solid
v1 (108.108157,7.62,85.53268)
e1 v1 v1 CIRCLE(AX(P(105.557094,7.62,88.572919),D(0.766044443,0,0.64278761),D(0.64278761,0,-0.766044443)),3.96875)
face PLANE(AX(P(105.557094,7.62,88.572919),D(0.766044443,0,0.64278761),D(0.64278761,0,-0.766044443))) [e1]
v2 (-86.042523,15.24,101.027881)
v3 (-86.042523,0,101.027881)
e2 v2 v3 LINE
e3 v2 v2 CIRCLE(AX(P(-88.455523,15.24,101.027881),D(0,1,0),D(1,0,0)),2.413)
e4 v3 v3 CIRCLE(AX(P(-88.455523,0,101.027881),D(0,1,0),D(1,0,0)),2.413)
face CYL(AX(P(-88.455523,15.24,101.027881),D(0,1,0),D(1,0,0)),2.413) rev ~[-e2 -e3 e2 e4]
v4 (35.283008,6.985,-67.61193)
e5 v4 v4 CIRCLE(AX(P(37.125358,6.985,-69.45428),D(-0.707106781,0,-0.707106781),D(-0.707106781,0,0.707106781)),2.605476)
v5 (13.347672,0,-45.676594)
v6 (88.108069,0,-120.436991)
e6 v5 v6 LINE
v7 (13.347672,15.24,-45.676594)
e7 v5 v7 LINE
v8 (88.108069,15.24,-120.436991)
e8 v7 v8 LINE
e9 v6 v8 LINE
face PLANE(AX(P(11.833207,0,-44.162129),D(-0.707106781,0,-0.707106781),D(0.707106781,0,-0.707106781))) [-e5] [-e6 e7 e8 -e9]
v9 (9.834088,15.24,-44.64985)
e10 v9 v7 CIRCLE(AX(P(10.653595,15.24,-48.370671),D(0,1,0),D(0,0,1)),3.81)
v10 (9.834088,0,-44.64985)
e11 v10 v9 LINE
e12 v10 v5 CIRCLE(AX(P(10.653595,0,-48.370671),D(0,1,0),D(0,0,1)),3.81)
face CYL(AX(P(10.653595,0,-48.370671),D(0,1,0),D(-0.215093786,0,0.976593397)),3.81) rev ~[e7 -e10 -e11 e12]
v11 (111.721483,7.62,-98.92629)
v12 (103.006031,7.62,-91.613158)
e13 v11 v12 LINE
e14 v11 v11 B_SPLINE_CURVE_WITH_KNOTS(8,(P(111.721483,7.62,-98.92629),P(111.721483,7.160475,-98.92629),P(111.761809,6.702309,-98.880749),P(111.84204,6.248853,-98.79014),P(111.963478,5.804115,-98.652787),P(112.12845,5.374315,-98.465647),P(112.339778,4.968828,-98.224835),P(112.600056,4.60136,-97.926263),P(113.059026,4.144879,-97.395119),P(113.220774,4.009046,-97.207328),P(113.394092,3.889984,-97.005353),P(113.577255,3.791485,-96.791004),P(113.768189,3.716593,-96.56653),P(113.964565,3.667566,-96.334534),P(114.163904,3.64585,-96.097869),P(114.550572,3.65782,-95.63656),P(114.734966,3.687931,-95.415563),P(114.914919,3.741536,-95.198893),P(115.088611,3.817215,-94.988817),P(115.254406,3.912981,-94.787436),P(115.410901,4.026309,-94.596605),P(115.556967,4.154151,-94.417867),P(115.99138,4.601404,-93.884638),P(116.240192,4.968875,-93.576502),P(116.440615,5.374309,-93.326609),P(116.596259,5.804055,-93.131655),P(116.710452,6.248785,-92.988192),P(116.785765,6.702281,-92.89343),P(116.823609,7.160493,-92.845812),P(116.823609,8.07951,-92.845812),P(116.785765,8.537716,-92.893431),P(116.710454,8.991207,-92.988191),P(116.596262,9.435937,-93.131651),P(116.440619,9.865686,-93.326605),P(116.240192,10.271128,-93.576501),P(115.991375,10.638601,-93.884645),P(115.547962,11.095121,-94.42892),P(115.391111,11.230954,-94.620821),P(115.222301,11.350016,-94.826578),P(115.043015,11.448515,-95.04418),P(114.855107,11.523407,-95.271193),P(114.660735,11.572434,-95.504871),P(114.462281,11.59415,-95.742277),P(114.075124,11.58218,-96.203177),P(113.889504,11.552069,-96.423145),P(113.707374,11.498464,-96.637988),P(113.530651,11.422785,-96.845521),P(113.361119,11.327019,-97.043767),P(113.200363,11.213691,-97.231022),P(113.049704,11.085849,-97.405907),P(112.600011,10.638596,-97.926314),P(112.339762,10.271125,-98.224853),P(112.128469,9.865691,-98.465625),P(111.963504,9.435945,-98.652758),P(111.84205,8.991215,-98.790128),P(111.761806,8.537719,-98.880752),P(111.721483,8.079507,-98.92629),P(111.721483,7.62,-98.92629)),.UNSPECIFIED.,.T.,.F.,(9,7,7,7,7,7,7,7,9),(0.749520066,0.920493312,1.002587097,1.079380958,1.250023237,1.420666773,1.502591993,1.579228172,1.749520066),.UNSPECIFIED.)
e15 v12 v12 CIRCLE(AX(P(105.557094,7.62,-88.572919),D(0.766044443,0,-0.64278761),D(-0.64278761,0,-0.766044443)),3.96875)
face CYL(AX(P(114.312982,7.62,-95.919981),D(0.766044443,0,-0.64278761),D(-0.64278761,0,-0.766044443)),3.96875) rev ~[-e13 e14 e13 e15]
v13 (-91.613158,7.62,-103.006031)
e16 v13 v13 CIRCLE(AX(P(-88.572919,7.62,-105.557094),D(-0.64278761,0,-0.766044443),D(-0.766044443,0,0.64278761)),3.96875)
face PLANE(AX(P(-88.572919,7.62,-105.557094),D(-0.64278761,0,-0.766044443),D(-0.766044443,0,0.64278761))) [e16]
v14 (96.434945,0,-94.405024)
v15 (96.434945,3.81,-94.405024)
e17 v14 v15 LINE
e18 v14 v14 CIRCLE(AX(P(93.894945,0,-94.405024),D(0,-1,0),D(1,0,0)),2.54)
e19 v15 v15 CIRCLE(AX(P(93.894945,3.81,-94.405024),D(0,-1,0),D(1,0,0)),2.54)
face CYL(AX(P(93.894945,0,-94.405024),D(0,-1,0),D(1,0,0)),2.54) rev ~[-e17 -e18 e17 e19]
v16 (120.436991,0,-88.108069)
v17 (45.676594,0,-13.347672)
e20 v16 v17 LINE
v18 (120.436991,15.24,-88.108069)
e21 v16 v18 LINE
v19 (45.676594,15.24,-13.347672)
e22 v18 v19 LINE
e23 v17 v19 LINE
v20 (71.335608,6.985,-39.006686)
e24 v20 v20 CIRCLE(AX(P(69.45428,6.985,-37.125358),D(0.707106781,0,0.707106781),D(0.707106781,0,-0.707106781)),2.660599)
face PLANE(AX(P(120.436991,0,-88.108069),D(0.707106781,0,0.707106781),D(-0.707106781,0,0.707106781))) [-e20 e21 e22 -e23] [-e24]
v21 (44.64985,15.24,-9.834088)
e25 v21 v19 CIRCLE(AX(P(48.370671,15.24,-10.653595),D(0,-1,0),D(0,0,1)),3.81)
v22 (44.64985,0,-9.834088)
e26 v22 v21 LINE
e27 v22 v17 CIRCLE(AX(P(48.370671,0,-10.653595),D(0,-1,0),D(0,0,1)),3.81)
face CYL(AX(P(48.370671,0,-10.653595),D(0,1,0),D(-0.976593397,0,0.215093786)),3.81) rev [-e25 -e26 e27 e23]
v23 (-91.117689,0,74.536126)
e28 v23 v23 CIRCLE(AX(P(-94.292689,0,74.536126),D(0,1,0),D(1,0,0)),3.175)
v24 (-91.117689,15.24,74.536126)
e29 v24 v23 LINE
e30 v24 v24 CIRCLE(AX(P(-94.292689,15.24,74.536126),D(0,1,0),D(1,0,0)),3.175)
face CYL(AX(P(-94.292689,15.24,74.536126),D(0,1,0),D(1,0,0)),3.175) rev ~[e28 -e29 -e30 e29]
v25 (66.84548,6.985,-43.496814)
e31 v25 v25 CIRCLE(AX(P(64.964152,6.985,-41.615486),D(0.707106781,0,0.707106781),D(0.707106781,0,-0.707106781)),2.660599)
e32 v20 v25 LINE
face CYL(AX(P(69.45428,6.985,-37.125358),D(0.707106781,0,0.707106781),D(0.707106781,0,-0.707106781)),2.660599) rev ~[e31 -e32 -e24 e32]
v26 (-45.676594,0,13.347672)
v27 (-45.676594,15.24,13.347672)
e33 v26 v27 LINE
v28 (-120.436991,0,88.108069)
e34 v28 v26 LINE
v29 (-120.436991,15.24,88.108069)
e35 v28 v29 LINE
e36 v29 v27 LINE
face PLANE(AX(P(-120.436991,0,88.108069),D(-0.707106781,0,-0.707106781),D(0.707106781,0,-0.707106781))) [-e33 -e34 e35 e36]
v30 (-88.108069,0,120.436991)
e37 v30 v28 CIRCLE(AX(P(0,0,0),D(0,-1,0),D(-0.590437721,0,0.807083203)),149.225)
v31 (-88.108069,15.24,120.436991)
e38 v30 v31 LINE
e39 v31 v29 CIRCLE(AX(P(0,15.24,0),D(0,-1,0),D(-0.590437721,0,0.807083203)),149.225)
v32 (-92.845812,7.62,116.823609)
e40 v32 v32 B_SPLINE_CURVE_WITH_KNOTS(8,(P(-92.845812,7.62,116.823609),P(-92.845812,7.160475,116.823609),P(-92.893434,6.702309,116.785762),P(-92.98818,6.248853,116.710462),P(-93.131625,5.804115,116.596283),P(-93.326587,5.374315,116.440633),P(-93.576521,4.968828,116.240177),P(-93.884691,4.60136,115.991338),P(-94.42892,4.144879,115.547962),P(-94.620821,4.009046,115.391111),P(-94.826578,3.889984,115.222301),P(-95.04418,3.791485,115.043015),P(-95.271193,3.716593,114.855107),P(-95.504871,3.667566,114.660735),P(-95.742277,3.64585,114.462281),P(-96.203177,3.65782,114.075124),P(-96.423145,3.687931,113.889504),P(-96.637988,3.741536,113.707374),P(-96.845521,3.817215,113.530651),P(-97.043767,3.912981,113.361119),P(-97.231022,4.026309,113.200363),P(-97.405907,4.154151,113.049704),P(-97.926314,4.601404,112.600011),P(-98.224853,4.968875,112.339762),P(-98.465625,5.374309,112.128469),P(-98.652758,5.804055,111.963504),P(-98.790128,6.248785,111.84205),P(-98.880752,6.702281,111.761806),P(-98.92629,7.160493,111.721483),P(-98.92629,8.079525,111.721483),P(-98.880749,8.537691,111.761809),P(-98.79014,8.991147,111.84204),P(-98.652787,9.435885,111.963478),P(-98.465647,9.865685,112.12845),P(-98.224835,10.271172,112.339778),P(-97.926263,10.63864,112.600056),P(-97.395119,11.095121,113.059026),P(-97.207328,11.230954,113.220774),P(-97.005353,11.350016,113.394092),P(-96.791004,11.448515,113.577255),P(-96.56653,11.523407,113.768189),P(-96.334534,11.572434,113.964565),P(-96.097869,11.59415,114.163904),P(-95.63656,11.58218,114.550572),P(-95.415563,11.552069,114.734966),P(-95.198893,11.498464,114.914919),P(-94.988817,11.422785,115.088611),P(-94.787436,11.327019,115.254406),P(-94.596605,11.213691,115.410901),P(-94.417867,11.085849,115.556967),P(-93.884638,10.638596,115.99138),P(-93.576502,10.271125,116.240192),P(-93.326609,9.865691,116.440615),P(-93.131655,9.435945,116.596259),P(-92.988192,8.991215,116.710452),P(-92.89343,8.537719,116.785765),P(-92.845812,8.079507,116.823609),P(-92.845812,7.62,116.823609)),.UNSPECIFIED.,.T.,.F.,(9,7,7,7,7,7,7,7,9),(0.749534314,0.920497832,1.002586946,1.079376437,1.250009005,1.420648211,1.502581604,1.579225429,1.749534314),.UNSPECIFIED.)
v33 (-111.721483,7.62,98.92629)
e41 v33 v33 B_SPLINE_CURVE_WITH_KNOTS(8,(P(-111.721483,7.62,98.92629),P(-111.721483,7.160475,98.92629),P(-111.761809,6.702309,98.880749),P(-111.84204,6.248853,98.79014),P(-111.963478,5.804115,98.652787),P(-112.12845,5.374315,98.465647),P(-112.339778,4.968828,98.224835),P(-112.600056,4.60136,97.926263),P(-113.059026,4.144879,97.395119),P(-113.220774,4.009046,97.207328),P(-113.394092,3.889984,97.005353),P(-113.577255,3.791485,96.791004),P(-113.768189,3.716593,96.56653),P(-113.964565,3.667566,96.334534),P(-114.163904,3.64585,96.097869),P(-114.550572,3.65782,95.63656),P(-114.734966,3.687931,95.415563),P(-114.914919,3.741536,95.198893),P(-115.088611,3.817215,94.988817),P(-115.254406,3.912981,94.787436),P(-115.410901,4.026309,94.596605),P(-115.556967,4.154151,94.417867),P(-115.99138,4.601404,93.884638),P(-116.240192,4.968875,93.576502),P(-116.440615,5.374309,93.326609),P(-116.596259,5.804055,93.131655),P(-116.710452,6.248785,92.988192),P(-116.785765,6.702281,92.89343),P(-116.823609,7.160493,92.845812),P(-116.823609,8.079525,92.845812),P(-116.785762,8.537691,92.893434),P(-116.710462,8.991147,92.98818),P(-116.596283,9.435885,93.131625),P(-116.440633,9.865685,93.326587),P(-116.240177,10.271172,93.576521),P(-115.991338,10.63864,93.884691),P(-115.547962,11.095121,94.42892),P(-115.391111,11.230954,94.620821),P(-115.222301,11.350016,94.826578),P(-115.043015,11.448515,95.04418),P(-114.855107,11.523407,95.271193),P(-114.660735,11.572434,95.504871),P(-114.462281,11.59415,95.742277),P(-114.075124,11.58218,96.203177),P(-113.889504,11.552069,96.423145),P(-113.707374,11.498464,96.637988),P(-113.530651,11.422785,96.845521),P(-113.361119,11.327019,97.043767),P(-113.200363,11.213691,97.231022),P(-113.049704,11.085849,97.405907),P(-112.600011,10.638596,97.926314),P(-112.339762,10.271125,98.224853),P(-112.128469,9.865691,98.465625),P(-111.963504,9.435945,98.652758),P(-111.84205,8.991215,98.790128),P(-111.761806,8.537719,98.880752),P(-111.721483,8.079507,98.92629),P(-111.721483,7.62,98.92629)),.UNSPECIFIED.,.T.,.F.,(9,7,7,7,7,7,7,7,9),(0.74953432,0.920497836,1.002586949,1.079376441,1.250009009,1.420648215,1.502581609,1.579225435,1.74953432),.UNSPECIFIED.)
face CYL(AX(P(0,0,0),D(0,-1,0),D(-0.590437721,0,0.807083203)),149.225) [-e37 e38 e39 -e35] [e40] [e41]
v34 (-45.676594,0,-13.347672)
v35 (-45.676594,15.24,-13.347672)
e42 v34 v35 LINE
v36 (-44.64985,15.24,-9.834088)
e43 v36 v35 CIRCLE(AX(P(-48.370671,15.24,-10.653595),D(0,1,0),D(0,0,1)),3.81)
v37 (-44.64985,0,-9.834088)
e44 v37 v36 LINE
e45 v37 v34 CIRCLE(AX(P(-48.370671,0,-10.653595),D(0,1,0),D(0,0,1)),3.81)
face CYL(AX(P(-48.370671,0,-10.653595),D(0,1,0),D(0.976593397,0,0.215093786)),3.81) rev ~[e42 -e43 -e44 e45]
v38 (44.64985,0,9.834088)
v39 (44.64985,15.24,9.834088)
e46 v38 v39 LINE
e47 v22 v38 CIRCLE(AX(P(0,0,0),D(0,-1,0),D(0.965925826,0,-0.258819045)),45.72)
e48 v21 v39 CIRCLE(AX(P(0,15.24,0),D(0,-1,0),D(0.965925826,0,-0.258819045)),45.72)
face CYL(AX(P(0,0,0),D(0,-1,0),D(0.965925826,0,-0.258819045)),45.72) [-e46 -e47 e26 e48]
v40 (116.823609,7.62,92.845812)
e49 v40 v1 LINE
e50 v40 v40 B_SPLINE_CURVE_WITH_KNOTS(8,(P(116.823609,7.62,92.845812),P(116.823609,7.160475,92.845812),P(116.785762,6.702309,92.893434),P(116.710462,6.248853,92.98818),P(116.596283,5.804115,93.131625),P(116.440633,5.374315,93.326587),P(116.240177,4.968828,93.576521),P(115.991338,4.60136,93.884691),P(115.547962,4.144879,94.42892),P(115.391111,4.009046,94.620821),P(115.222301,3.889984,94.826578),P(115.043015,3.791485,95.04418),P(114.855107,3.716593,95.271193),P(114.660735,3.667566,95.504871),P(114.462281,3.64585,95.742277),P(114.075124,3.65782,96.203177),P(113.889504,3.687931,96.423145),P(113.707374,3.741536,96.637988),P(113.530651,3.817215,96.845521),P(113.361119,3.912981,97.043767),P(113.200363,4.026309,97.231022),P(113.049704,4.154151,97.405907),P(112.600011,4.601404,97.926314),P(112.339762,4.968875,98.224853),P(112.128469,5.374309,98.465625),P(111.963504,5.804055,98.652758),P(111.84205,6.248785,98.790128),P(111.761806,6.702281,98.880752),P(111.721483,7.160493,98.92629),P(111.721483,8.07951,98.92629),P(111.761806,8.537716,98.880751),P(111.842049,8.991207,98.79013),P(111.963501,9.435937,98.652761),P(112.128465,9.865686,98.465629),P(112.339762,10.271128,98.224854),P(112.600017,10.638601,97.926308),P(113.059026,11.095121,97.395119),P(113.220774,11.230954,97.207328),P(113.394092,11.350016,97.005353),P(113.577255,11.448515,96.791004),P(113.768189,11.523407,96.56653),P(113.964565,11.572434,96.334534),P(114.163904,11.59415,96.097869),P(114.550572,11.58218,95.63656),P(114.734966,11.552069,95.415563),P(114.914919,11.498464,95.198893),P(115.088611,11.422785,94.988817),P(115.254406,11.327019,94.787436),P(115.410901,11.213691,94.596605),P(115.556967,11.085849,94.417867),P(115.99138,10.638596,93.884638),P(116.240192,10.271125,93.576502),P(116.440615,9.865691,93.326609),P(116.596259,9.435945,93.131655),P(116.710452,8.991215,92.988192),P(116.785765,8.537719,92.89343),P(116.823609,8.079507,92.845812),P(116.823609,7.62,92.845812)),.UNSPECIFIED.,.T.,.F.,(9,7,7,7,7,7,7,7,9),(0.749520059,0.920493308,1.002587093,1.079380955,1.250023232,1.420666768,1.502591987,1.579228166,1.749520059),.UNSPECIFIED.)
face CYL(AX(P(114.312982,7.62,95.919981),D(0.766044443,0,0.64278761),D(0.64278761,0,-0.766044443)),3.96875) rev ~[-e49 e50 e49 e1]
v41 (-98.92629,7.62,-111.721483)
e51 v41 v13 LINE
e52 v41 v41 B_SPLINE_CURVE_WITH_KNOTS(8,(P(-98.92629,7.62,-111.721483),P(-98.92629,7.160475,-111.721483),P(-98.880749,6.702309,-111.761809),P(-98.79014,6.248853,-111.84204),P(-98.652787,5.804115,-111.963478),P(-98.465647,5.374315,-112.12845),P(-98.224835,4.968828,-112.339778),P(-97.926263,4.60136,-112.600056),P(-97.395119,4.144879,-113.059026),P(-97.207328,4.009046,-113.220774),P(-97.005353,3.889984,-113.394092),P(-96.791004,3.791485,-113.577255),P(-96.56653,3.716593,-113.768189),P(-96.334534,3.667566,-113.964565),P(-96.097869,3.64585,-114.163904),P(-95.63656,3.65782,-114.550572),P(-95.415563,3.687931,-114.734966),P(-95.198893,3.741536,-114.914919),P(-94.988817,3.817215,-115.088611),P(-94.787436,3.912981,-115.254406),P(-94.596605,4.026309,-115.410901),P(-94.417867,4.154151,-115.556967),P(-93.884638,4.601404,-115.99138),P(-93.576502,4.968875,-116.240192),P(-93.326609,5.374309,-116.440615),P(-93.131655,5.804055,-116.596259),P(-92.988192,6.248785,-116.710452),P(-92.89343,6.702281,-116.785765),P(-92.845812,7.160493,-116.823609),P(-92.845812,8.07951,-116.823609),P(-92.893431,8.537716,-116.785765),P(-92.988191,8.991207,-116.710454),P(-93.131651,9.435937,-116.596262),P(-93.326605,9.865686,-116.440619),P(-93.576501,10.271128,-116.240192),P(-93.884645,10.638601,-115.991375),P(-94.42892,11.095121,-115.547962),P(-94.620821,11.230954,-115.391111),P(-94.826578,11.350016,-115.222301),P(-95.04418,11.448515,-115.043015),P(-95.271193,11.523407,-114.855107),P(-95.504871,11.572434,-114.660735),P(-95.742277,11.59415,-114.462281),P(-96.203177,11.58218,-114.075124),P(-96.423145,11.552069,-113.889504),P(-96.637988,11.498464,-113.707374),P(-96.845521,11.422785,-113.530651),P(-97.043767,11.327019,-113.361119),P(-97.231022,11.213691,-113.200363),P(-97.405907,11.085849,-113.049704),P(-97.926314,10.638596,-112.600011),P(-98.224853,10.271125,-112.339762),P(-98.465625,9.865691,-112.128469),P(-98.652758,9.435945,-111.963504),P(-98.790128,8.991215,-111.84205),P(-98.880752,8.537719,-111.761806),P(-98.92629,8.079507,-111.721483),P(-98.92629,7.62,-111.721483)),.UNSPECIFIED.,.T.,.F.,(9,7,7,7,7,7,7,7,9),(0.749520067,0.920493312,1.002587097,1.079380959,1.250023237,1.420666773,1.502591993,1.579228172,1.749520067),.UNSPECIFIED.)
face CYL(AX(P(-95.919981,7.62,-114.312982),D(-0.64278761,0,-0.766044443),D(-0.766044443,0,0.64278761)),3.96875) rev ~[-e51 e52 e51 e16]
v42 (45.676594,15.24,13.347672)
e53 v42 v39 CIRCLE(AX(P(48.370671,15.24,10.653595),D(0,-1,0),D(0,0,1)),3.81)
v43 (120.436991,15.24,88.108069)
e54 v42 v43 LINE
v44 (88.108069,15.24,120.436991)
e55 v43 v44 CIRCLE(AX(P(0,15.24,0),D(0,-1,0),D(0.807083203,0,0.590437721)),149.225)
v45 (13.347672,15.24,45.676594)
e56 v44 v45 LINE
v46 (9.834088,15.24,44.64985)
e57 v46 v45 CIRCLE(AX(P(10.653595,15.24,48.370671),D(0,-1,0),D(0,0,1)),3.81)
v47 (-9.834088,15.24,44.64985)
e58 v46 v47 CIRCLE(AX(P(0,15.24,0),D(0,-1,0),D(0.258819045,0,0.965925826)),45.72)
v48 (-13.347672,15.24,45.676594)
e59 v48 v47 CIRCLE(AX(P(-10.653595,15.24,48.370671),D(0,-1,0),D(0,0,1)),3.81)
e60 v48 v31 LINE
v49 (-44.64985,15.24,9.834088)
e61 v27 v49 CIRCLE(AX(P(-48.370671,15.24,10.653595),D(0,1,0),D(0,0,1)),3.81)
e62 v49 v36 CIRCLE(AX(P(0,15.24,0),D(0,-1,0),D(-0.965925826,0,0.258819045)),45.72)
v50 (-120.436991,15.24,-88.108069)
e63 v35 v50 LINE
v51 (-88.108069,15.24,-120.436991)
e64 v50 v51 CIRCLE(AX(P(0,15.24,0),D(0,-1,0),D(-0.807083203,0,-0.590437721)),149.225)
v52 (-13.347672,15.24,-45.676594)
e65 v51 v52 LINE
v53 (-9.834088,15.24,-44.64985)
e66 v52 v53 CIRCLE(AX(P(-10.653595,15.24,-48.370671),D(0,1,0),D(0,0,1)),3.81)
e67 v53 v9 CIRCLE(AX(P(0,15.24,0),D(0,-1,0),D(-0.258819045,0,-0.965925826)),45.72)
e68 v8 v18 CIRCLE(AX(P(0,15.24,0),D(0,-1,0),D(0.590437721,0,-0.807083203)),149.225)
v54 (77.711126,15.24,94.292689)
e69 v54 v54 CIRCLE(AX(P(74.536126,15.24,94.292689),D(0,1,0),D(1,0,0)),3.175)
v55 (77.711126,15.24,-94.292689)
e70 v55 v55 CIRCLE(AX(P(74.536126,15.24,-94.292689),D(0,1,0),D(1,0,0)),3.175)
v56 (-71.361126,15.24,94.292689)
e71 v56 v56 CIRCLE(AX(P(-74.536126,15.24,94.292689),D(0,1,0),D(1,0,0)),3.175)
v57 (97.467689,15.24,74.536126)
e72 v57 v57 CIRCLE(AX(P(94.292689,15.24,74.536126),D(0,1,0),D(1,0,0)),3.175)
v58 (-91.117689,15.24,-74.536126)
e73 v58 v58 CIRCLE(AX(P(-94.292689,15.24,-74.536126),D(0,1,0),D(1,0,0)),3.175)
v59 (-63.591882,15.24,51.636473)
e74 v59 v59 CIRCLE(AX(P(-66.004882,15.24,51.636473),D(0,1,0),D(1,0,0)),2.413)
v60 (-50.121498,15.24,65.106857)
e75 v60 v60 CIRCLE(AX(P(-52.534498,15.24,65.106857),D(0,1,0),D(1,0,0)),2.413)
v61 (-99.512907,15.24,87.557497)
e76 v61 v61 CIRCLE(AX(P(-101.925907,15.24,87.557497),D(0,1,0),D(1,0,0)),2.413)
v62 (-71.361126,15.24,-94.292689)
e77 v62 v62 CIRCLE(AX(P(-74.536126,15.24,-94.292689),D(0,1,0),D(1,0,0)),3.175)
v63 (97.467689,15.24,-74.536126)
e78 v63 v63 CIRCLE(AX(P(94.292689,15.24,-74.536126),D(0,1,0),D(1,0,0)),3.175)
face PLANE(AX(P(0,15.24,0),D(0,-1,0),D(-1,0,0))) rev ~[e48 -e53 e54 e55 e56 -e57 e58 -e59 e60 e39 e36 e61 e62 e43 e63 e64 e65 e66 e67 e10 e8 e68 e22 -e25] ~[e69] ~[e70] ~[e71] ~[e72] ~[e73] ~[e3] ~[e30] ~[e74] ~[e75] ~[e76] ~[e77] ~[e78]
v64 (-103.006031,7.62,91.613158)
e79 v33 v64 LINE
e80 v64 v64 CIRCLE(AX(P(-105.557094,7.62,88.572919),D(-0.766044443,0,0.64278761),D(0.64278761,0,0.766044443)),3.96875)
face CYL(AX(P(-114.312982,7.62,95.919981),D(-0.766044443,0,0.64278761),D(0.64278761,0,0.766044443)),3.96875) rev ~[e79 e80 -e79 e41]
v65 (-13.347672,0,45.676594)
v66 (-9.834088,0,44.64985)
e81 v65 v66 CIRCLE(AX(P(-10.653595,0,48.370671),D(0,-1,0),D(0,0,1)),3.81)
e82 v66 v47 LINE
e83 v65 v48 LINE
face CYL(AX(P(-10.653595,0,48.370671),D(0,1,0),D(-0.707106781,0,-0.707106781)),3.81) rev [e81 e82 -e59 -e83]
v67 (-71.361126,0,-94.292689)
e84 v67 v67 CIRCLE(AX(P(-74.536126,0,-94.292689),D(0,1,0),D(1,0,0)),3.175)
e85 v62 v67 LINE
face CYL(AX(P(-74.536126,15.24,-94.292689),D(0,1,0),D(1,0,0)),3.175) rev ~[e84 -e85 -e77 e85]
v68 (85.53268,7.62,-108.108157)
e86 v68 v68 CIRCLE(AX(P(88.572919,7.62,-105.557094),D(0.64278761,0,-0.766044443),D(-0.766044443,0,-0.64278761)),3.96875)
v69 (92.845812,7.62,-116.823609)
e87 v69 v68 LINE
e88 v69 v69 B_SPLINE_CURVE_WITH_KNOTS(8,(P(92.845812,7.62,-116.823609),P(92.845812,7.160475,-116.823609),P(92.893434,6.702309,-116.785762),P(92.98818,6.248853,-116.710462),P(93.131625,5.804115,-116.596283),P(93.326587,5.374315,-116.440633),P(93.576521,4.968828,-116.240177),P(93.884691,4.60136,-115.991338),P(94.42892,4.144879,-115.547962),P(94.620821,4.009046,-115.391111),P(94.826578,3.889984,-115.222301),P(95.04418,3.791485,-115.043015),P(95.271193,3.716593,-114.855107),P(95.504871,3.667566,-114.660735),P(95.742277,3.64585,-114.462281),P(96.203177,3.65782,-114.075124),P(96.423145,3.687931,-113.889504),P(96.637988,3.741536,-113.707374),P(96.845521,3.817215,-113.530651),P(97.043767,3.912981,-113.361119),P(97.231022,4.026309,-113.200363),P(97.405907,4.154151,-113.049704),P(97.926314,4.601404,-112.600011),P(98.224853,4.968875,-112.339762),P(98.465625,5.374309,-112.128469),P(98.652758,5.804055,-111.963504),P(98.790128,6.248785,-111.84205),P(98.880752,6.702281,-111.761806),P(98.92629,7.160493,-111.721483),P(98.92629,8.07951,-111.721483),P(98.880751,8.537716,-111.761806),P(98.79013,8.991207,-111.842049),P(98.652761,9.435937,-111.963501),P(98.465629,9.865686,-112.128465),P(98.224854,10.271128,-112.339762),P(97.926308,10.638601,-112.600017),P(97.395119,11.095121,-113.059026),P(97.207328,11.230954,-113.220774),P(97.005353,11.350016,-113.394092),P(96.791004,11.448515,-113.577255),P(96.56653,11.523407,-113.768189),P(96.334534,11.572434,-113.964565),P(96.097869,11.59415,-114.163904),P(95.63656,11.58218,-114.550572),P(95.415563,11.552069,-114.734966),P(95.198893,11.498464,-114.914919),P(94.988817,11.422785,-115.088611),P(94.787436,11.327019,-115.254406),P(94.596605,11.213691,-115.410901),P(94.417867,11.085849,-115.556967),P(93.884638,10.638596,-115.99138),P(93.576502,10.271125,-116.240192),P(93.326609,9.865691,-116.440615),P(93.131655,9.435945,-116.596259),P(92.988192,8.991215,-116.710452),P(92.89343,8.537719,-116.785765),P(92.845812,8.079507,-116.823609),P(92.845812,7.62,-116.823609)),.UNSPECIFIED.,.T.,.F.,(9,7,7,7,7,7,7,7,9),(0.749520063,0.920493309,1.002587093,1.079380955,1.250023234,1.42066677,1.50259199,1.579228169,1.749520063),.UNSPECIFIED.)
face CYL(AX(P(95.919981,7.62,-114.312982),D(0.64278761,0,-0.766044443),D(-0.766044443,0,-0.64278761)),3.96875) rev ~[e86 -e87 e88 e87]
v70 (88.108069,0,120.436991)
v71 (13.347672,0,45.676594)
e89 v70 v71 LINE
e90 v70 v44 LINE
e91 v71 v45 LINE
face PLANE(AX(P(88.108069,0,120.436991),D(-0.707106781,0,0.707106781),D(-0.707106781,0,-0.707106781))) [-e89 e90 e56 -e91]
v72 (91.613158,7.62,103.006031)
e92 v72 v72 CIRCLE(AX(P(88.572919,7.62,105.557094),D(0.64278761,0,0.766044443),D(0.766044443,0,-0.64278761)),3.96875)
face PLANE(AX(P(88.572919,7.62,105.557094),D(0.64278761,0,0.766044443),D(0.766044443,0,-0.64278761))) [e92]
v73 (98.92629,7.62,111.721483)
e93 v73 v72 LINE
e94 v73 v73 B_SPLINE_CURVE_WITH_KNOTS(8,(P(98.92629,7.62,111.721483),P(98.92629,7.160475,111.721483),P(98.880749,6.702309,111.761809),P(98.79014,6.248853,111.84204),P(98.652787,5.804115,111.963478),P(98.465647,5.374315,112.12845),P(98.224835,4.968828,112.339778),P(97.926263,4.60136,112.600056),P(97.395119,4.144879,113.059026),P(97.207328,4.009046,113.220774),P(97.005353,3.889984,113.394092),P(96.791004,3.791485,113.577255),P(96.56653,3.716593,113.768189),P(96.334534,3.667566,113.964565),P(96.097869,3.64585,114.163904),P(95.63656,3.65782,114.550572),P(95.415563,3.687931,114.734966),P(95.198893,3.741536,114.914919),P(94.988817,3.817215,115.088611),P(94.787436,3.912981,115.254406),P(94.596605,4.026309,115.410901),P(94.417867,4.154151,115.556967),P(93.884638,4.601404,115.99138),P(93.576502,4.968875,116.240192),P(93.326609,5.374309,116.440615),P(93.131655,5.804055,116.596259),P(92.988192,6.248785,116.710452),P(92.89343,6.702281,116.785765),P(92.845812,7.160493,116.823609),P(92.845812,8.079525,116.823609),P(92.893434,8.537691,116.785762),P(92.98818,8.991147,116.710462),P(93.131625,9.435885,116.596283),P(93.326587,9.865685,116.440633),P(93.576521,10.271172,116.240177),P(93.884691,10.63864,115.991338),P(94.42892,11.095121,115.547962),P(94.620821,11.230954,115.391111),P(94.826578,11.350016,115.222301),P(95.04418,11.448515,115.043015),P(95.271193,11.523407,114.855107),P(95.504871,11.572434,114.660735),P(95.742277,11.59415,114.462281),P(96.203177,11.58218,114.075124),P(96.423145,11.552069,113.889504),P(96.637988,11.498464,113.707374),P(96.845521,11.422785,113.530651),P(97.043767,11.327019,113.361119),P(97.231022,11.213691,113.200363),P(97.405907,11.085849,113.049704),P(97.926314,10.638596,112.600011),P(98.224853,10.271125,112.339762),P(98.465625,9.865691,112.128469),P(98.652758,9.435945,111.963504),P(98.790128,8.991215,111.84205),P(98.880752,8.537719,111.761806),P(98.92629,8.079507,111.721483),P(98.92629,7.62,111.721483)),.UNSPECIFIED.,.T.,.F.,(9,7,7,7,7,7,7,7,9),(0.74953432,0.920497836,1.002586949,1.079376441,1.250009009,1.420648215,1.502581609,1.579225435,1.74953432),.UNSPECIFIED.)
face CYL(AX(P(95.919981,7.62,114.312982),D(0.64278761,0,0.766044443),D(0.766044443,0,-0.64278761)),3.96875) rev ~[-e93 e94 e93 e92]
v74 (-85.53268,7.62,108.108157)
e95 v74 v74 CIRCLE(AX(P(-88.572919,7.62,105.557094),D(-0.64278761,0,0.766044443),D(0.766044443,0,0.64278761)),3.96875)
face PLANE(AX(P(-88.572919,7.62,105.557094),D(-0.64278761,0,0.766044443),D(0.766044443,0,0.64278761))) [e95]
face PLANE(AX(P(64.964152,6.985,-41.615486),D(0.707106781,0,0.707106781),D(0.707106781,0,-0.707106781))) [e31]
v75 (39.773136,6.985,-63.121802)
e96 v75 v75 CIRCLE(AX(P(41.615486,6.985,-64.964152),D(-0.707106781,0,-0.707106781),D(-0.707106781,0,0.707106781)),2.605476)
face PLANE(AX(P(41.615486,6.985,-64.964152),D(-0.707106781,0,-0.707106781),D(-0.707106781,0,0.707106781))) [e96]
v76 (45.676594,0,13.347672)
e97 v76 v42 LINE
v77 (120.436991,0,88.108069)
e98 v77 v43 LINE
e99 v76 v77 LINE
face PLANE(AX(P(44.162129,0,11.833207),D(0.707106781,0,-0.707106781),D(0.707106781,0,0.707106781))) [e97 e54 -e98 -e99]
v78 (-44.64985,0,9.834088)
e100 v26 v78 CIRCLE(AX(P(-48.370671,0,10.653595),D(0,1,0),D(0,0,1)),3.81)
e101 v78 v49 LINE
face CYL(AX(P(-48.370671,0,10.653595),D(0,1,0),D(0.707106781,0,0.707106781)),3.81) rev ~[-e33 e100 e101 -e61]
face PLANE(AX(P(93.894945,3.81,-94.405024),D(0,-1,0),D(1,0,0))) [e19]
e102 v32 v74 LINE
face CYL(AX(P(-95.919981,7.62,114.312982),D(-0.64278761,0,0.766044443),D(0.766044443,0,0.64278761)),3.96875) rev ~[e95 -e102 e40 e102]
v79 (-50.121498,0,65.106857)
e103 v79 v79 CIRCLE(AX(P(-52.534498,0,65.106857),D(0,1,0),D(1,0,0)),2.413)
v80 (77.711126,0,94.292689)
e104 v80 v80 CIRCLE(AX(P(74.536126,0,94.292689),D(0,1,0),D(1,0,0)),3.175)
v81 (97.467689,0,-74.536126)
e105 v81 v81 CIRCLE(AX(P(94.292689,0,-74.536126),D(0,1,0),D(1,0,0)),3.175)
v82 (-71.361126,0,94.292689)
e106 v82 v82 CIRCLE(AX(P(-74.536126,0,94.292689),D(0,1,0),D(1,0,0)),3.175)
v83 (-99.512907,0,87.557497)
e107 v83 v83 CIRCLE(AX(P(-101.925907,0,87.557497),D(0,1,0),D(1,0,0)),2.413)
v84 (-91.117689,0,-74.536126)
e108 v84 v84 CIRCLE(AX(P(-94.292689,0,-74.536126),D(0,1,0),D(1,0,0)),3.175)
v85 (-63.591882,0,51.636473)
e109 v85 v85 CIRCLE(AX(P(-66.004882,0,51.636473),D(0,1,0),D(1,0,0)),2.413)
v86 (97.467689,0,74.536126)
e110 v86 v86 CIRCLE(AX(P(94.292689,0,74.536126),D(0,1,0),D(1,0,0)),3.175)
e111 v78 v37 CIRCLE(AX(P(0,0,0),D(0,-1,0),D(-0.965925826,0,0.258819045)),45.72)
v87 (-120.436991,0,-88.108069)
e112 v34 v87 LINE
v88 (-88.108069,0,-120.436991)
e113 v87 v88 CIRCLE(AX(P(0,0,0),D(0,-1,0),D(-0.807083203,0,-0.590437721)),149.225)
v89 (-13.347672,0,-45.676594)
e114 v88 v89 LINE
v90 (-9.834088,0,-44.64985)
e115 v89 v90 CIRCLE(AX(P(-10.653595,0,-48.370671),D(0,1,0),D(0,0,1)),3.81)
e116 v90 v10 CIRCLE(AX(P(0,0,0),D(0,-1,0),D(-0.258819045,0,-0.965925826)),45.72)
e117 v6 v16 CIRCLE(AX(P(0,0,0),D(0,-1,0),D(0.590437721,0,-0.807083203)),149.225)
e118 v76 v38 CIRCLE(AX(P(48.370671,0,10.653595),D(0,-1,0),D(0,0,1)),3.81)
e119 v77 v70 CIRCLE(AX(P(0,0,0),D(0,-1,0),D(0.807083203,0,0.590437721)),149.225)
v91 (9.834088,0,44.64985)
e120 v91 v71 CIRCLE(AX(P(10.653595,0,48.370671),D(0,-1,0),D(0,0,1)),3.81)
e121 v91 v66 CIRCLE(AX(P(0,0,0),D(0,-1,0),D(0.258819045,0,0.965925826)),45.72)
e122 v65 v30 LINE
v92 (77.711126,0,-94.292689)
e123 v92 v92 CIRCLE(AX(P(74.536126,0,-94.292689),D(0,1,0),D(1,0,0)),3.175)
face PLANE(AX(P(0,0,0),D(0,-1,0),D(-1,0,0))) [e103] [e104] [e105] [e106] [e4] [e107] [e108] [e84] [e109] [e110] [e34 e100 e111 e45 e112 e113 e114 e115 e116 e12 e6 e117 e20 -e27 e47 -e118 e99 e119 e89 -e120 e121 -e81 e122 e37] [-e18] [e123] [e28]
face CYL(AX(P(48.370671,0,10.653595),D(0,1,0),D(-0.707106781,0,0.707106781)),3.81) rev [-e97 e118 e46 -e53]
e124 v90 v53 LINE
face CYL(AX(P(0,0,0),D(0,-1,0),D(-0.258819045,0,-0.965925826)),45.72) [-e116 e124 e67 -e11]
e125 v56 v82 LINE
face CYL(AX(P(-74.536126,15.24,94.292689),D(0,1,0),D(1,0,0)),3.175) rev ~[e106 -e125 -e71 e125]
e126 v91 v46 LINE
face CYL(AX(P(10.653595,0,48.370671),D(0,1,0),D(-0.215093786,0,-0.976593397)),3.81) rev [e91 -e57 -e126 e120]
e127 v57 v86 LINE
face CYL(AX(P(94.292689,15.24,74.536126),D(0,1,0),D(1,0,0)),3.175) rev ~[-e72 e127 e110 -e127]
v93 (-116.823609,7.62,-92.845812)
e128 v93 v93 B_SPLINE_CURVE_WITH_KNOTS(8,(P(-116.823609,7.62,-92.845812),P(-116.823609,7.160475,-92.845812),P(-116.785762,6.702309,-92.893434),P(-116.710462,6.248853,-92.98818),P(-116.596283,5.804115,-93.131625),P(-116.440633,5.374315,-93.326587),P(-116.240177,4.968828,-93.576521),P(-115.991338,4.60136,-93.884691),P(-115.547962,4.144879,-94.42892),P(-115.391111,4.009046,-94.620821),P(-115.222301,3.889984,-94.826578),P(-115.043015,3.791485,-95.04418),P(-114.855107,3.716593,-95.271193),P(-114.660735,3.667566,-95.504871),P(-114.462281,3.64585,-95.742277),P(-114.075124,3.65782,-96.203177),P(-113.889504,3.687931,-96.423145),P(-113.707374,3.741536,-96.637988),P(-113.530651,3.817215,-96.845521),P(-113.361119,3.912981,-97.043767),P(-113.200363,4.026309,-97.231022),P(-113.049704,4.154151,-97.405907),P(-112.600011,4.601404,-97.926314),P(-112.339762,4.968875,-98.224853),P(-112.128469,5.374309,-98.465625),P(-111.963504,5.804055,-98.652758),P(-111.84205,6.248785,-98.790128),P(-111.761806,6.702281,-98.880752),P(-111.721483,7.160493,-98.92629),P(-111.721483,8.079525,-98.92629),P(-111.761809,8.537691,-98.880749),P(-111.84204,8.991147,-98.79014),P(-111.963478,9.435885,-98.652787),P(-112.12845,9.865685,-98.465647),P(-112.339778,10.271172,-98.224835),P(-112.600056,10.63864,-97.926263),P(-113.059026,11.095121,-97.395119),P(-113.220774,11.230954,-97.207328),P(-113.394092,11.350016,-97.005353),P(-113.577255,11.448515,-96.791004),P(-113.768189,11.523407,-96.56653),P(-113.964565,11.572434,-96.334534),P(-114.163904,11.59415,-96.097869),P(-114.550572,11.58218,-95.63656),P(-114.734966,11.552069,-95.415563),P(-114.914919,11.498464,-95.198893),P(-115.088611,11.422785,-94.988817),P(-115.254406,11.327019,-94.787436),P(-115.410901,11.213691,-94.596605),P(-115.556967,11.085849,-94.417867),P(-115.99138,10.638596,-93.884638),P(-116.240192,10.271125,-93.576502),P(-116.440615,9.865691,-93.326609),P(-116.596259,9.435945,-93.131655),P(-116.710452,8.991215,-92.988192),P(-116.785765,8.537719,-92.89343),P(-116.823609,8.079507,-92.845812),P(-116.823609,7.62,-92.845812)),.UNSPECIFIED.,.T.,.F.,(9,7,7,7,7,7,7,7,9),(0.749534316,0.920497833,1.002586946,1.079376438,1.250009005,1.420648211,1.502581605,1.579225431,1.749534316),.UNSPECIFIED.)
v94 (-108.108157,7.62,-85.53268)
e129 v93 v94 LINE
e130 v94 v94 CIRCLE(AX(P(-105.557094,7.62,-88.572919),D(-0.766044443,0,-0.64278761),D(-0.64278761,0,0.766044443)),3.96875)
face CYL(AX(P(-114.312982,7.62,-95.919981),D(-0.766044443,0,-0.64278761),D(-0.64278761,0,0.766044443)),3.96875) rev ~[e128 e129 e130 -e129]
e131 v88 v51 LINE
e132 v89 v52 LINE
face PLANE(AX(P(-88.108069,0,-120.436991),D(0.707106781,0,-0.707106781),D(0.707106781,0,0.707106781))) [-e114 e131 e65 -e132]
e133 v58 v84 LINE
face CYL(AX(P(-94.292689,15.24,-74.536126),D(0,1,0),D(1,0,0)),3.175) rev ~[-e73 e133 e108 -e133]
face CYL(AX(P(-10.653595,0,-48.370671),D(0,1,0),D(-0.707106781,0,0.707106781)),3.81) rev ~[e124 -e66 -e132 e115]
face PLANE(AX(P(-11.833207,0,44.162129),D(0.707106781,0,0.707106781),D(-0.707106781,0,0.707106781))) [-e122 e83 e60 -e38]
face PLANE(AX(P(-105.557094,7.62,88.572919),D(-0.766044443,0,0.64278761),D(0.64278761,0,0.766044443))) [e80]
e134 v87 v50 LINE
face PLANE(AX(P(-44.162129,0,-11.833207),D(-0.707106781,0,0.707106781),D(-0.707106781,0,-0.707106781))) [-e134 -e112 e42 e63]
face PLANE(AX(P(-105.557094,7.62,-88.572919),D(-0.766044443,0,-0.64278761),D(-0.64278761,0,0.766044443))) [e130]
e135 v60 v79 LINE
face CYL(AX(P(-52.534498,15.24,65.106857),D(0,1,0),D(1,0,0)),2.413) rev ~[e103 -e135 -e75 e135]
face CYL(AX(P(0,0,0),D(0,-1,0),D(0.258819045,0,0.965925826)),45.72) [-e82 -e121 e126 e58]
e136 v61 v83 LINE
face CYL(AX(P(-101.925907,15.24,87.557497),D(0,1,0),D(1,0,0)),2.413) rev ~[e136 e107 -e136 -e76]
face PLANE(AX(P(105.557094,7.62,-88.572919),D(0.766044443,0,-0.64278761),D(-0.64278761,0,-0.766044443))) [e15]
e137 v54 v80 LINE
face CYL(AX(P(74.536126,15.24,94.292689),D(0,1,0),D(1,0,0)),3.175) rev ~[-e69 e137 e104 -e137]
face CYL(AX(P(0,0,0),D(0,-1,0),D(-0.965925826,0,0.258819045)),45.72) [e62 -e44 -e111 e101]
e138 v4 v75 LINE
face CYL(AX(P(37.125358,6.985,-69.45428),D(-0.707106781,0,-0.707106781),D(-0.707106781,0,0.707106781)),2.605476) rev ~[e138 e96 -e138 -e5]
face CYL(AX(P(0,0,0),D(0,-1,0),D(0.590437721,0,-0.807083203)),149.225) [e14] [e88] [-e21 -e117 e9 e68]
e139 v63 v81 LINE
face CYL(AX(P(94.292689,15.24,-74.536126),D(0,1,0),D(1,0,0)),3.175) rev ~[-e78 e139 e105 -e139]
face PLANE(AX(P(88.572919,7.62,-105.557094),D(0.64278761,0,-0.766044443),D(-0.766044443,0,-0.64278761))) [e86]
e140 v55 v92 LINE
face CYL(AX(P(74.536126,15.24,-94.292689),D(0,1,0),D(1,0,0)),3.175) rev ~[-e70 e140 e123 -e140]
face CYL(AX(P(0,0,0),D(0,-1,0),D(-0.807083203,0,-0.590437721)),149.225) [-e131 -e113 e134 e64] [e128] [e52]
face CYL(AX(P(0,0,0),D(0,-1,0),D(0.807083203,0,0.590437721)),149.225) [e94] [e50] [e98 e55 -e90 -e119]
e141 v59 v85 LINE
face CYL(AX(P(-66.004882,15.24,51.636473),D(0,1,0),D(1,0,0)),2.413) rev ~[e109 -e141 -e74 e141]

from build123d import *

# Parameters (mm, degrees)
BOSS_EXTRUDE3_DEPTH = 15.24
SKETCH6_R           = 3.175
CUT_EXTRUDE2_DEPTH  = 16.24
CUT_EXTRUDE6_REACH  = 17.24
SKETCH53_R          = 2.413
FILLET1_R           = 3.81
SKETCH57_R          = 3.96875
CUT_EXTRUDE8_DEPTH  = 11.43
SKETCH55_R          = 3.96875
CUT_EXTRUDE9_DEPTH  = 11.43
CIRPATTERN2_COUNT   = 4
SKETCH59_R          = 2.605475785
CUT_EXTRUDE11_DEPTH = 6.35
SKETCH60_R          = 2.660599197
CUT_EXTRUDE12_DEPTH = 6.35
SKETCH62_R          = 2.54
CUT_EXTRUDE14_DEPTH = 3.81


with BuildPart() as part:
    # Sketch5 → Boss-Extrude3 (new body)
    with BuildSketch(Plane(origin=(0, 0, 0), x_dir=(1, 0, 0), z_dir=(0, 1, 0))):
        with BuildLine():
            Line((-11.833206742, -44.162128778), (-88.108068982, -120.436991017))
            ThreePointArc((-88.108068982, -120.436991017), (-105.518009423, -105.518009423), (-120.436991017, -88.108068982))
            Line((-120.436991017, -88.108068982), (-44.162128778, -11.833206742))
            ThreePointArc((-44.162128778, -11.833206742), (-45.72, 0), (-44.162128778, 11.833206742))
            Line((-44.162128778, 11.833206742), (-120.436991017, 88.108068982))
            ThreePointArc((-120.436991017, 88.108068982), (-105.518009423, 105.518009423), (-88.108068982, 120.436991017))
            Line((-88.108068982, 120.436991017), (-11.833206742, 44.162128778))
            ThreePointArc((-11.833206742, 44.162128778), (0, 45.72), (11.833206742, 44.162128778))
            Line((11.833206742, 44.162128778), (88.108068982, 120.436991017))
            ThreePointArc((88.108068982, 120.436991017), (105.518009423, 105.518009423), (120.436991017, 88.108068982))
            Line((120.436991017, 88.108068982), (44.162128778, 11.833206742))
            ThreePointArc((44.162128778, 11.833206742), (45.72, 0), (44.162128778, -11.833206742))
            Line((44.162128778, -11.833206742), (120.436991017, -88.108068982))
            ThreePointArc((120.436991017, -88.108068982), (105.518009423, -105.518009423), (88.108068982, -120.436991017))
            Line((88.108068982, -120.436991017), (11.833206742, -44.162128778))
            ThreePointArc((11.833206742, -44.162128778), (0, -45.72), (-11.833206742, -44.162128778))
        make_face()
    extrude(amount=BOSS_EXTRUDE3_DEPTH)

    # Sketch6 → Cut-Extrude2 (cut, through all)
    with BuildSketch(Plane(origin=(0, 15.24, 0), x_dir=(1, 0, 0), z_dir=(0, 1, 0))):
        with Locations((-74.536125805, -94.292689271)):
            Circle(SKETCH6_R)
        with Locations((-94.292689271, -74.536125805)):
            Circle(SKETCH6_R)
        with Locations((94.292689271, -74.536125805)):
            Circle(SKETCH6_R)
        with Locations((74.536125805, -94.292689271)):
            Circle(SKETCH6_R)
        with Locations((94.292689271, 74.536125805)):
            Circle(SKETCH6_R)
        with Locations((74.536125805, 94.292689271)):
            Circle(SKETCH6_R)
        with Locations((-94.292689271, 74.536125805)):
            Circle(SKETCH6_R)
        with Locations((-74.536125805, 94.292689271)):
            Circle(SKETCH6_R)
    extrude(amount=-CUT_EXTRUDE2_DEPTH, mode=Mode.SUBTRACT)

    # Sketch53 → Cut-Extrude6 (cut, up to next)
    with BuildSketch(Plane(origin=(0, 15.24, 0), x_dir=(1, 0, 0), z_dir=(0, 1, 0)), mode=Mode.PRIVATE) as cut_extrude6_sk1:
        with Locations((-88.455522793, -101.027881362)):
            Circle(SKETCH53_R)
    cut_extrude6_tool1 = extrude(cut_extrude6_sk1.sketch, amount=-CUT_EXTRUDE6_REACH, mode=Mode.PRIVATE) & part.part
    add(cut_extrude6_tool1.solids().sort_by_distance((-88.455523, 15.24, 101.027881))[0], mode=Mode.SUBTRACT)
    # Sketch53 → Cut-Extrude6 (cut, up to next)
    with BuildSketch(Plane(origin=(0, 15.24, 0), x_dir=(1, 0, 0), z_dir=(0, 1, 0)), mode=Mode.PRIVATE) as cut_extrude6_sk2:
        with Locations((-52.534498308, -65.106856878)):
            Circle(SKETCH53_R)
    cut_extrude6_tool2 = extrude(cut_extrude6_sk2.sketch, amount=-CUT_EXTRUDE6_REACH, mode=Mode.PRIVATE) & part.part
    add(cut_extrude6_tool2.solids().sort_by_distance((-52.534498, 15.24, 65.106857))[0], mode=Mode.SUBTRACT)
    # Sketch53 → Cut-Extrude6 (cut, up to next)
    with BuildSketch(Plane(origin=(0, 15.24, 0), x_dir=(1, 0, 0), z_dir=(0, 1, 0)), mode=Mode.PRIVATE) as cut_extrude6_sk3:
        with Locations((-101.925906974, -87.55749718)):
            Circle(SKETCH53_R)
    cut_extrude6_tool3 = extrude(cut_extrude6_sk3.sketch, amount=-CUT_EXTRUDE6_REACH, mode=Mode.PRIVATE) & part.part
    add(cut_extrude6_tool3.solids().sort_by_distance((-101.925907, 15.24, 87.557497))[0], mode=Mode.SUBTRACT)
    # Sketch53 → Cut-Extrude6 (cut, up to next)
    with BuildSketch(Plane(origin=(0, 15.24, 0), x_dir=(1, 0, 0), z_dir=(0, 1, 0)), mode=Mode.PRIVATE) as cut_extrude6_sk4:
        with Locations((-66.00488249, -51.636472696)):
            Circle(SKETCH53_R)
    cut_extrude6_tool4 = extrude(cut_extrude6_sk4.sketch, amount=-CUT_EXTRUDE6_REACH, mode=Mode.PRIVATE) & part.part
    add(cut_extrude6_tool4.solids().sort_by_distance((-66.004882, 15.24, 51.636473))[0], mode=Mode.SUBTRACT)

    # Fillet1
    fillet1_edges = [part.edges().sort_by_distance(p)[0] for p in [
        (-44.162128778, 7.62, 11.833206742),
        (-44.162128778, 7.62, -11.833206742),
        (-11.833206742, 7.62, -44.162128778),
        (11.833206742, 7.62, -44.162128778),
        (44.162128778, 7.62, -11.833206742),
        (44.162128778, 7.62, 11.833206742),
        (11.833206742, 7.62, 44.162128778),
        (-11.833206742, 7.62, 44.162128778),
    ]]
    fillet(fillet1_edges, radius=FILLET1_R)

    # Sketch57 → Cut-Extrude8 (cut)
    with BuildSketch(Plane(origin=(-114.312982024, 0, 95.919981055), x_dir=(0.64278761, 0, 0.766044443), z_dir=(-0.766044443, 0, 0.64278761))):
        with Locations((0, 7.62)):
            Circle(SKETCH57_R)
    cut_extrude8 = extrude(amount=-CUT_EXTRUDE8_DEPTH, mode=Mode.SUBTRACT)

    # Sketch55 → Cut-Extrude9 (cut)
    with BuildSketch(Plane(origin=(-95.919981055, 0, 114.312982024), x_dir=(0.766044443, 0, 0.64278761), z_dir=(-0.64278761, 0, 0.766044443))):
        with Locations((0, 7.62)):
            Circle(SKETCH55_R)
    cut_extrude9 = extrude(amount=-CUT_EXTRUDE9_DEPTH, mode=Mode.SUBTRACT)

    # CirPattern2: Cut-Extrude8, Cut-Extrude9 ×4 about axis
    cirpattern2_axis = Axis((0, 0, 0), (0, 1, 0))
    for i in range(1, CIRPATTERN2_COUNT):
        add(cut_extrude8.rotate(cirpattern2_axis, i * 360 / CIRPATTERN2_COUNT), mode=Mode.SUBTRACT)
        add(cut_extrude9.rotate(cirpattern2_axis, i * 360 / CIRPATTERN2_COUNT), mode=Mode.SUBTRACT)

    # Sketch59 → Cut-Extrude11 (cut)
    with BuildSketch(Plane(origin=(-16.164461018, 0, -16.164461018), x_dir=(-0.707106781, 0, 0.707106781), z_dir=(-0.707106781, 0, -0.707106781))):
        with Locations((-75.363184789, 6.985)):
            Circle(SKETCH59_R)
    extrude(amount=-CUT_EXTRUDE11_DEPTH, mode=Mode.SUBTRACT)

    # Sketch60 → Cut-Extrude12 (cut)
    with BuildSketch(Plane(origin=(16.164461018, 0, 16.164461018), x_dir=(0.707106781, 0, -0.707106781), z_dir=(0.707106781, 0, 0.707106781))):
        with Locations((75.363184789, 6.985)):
            Circle(SKETCH60_R)
    extrude(amount=-CUT_EXTRUDE12_DEPTH, mode=Mode.SUBTRACT)

    # Sketch62 → Cut-Extrude14 (cut)
    with BuildSketch(Plane.XZ):
        with Locations((93.894945093, -94.405023641)):
            Circle(SKETCH62_R)
    extrude(amount=-CUT_EXTRUDE14_DEPTH, mode=Mode.SUBTRACT)


solid = part.part
